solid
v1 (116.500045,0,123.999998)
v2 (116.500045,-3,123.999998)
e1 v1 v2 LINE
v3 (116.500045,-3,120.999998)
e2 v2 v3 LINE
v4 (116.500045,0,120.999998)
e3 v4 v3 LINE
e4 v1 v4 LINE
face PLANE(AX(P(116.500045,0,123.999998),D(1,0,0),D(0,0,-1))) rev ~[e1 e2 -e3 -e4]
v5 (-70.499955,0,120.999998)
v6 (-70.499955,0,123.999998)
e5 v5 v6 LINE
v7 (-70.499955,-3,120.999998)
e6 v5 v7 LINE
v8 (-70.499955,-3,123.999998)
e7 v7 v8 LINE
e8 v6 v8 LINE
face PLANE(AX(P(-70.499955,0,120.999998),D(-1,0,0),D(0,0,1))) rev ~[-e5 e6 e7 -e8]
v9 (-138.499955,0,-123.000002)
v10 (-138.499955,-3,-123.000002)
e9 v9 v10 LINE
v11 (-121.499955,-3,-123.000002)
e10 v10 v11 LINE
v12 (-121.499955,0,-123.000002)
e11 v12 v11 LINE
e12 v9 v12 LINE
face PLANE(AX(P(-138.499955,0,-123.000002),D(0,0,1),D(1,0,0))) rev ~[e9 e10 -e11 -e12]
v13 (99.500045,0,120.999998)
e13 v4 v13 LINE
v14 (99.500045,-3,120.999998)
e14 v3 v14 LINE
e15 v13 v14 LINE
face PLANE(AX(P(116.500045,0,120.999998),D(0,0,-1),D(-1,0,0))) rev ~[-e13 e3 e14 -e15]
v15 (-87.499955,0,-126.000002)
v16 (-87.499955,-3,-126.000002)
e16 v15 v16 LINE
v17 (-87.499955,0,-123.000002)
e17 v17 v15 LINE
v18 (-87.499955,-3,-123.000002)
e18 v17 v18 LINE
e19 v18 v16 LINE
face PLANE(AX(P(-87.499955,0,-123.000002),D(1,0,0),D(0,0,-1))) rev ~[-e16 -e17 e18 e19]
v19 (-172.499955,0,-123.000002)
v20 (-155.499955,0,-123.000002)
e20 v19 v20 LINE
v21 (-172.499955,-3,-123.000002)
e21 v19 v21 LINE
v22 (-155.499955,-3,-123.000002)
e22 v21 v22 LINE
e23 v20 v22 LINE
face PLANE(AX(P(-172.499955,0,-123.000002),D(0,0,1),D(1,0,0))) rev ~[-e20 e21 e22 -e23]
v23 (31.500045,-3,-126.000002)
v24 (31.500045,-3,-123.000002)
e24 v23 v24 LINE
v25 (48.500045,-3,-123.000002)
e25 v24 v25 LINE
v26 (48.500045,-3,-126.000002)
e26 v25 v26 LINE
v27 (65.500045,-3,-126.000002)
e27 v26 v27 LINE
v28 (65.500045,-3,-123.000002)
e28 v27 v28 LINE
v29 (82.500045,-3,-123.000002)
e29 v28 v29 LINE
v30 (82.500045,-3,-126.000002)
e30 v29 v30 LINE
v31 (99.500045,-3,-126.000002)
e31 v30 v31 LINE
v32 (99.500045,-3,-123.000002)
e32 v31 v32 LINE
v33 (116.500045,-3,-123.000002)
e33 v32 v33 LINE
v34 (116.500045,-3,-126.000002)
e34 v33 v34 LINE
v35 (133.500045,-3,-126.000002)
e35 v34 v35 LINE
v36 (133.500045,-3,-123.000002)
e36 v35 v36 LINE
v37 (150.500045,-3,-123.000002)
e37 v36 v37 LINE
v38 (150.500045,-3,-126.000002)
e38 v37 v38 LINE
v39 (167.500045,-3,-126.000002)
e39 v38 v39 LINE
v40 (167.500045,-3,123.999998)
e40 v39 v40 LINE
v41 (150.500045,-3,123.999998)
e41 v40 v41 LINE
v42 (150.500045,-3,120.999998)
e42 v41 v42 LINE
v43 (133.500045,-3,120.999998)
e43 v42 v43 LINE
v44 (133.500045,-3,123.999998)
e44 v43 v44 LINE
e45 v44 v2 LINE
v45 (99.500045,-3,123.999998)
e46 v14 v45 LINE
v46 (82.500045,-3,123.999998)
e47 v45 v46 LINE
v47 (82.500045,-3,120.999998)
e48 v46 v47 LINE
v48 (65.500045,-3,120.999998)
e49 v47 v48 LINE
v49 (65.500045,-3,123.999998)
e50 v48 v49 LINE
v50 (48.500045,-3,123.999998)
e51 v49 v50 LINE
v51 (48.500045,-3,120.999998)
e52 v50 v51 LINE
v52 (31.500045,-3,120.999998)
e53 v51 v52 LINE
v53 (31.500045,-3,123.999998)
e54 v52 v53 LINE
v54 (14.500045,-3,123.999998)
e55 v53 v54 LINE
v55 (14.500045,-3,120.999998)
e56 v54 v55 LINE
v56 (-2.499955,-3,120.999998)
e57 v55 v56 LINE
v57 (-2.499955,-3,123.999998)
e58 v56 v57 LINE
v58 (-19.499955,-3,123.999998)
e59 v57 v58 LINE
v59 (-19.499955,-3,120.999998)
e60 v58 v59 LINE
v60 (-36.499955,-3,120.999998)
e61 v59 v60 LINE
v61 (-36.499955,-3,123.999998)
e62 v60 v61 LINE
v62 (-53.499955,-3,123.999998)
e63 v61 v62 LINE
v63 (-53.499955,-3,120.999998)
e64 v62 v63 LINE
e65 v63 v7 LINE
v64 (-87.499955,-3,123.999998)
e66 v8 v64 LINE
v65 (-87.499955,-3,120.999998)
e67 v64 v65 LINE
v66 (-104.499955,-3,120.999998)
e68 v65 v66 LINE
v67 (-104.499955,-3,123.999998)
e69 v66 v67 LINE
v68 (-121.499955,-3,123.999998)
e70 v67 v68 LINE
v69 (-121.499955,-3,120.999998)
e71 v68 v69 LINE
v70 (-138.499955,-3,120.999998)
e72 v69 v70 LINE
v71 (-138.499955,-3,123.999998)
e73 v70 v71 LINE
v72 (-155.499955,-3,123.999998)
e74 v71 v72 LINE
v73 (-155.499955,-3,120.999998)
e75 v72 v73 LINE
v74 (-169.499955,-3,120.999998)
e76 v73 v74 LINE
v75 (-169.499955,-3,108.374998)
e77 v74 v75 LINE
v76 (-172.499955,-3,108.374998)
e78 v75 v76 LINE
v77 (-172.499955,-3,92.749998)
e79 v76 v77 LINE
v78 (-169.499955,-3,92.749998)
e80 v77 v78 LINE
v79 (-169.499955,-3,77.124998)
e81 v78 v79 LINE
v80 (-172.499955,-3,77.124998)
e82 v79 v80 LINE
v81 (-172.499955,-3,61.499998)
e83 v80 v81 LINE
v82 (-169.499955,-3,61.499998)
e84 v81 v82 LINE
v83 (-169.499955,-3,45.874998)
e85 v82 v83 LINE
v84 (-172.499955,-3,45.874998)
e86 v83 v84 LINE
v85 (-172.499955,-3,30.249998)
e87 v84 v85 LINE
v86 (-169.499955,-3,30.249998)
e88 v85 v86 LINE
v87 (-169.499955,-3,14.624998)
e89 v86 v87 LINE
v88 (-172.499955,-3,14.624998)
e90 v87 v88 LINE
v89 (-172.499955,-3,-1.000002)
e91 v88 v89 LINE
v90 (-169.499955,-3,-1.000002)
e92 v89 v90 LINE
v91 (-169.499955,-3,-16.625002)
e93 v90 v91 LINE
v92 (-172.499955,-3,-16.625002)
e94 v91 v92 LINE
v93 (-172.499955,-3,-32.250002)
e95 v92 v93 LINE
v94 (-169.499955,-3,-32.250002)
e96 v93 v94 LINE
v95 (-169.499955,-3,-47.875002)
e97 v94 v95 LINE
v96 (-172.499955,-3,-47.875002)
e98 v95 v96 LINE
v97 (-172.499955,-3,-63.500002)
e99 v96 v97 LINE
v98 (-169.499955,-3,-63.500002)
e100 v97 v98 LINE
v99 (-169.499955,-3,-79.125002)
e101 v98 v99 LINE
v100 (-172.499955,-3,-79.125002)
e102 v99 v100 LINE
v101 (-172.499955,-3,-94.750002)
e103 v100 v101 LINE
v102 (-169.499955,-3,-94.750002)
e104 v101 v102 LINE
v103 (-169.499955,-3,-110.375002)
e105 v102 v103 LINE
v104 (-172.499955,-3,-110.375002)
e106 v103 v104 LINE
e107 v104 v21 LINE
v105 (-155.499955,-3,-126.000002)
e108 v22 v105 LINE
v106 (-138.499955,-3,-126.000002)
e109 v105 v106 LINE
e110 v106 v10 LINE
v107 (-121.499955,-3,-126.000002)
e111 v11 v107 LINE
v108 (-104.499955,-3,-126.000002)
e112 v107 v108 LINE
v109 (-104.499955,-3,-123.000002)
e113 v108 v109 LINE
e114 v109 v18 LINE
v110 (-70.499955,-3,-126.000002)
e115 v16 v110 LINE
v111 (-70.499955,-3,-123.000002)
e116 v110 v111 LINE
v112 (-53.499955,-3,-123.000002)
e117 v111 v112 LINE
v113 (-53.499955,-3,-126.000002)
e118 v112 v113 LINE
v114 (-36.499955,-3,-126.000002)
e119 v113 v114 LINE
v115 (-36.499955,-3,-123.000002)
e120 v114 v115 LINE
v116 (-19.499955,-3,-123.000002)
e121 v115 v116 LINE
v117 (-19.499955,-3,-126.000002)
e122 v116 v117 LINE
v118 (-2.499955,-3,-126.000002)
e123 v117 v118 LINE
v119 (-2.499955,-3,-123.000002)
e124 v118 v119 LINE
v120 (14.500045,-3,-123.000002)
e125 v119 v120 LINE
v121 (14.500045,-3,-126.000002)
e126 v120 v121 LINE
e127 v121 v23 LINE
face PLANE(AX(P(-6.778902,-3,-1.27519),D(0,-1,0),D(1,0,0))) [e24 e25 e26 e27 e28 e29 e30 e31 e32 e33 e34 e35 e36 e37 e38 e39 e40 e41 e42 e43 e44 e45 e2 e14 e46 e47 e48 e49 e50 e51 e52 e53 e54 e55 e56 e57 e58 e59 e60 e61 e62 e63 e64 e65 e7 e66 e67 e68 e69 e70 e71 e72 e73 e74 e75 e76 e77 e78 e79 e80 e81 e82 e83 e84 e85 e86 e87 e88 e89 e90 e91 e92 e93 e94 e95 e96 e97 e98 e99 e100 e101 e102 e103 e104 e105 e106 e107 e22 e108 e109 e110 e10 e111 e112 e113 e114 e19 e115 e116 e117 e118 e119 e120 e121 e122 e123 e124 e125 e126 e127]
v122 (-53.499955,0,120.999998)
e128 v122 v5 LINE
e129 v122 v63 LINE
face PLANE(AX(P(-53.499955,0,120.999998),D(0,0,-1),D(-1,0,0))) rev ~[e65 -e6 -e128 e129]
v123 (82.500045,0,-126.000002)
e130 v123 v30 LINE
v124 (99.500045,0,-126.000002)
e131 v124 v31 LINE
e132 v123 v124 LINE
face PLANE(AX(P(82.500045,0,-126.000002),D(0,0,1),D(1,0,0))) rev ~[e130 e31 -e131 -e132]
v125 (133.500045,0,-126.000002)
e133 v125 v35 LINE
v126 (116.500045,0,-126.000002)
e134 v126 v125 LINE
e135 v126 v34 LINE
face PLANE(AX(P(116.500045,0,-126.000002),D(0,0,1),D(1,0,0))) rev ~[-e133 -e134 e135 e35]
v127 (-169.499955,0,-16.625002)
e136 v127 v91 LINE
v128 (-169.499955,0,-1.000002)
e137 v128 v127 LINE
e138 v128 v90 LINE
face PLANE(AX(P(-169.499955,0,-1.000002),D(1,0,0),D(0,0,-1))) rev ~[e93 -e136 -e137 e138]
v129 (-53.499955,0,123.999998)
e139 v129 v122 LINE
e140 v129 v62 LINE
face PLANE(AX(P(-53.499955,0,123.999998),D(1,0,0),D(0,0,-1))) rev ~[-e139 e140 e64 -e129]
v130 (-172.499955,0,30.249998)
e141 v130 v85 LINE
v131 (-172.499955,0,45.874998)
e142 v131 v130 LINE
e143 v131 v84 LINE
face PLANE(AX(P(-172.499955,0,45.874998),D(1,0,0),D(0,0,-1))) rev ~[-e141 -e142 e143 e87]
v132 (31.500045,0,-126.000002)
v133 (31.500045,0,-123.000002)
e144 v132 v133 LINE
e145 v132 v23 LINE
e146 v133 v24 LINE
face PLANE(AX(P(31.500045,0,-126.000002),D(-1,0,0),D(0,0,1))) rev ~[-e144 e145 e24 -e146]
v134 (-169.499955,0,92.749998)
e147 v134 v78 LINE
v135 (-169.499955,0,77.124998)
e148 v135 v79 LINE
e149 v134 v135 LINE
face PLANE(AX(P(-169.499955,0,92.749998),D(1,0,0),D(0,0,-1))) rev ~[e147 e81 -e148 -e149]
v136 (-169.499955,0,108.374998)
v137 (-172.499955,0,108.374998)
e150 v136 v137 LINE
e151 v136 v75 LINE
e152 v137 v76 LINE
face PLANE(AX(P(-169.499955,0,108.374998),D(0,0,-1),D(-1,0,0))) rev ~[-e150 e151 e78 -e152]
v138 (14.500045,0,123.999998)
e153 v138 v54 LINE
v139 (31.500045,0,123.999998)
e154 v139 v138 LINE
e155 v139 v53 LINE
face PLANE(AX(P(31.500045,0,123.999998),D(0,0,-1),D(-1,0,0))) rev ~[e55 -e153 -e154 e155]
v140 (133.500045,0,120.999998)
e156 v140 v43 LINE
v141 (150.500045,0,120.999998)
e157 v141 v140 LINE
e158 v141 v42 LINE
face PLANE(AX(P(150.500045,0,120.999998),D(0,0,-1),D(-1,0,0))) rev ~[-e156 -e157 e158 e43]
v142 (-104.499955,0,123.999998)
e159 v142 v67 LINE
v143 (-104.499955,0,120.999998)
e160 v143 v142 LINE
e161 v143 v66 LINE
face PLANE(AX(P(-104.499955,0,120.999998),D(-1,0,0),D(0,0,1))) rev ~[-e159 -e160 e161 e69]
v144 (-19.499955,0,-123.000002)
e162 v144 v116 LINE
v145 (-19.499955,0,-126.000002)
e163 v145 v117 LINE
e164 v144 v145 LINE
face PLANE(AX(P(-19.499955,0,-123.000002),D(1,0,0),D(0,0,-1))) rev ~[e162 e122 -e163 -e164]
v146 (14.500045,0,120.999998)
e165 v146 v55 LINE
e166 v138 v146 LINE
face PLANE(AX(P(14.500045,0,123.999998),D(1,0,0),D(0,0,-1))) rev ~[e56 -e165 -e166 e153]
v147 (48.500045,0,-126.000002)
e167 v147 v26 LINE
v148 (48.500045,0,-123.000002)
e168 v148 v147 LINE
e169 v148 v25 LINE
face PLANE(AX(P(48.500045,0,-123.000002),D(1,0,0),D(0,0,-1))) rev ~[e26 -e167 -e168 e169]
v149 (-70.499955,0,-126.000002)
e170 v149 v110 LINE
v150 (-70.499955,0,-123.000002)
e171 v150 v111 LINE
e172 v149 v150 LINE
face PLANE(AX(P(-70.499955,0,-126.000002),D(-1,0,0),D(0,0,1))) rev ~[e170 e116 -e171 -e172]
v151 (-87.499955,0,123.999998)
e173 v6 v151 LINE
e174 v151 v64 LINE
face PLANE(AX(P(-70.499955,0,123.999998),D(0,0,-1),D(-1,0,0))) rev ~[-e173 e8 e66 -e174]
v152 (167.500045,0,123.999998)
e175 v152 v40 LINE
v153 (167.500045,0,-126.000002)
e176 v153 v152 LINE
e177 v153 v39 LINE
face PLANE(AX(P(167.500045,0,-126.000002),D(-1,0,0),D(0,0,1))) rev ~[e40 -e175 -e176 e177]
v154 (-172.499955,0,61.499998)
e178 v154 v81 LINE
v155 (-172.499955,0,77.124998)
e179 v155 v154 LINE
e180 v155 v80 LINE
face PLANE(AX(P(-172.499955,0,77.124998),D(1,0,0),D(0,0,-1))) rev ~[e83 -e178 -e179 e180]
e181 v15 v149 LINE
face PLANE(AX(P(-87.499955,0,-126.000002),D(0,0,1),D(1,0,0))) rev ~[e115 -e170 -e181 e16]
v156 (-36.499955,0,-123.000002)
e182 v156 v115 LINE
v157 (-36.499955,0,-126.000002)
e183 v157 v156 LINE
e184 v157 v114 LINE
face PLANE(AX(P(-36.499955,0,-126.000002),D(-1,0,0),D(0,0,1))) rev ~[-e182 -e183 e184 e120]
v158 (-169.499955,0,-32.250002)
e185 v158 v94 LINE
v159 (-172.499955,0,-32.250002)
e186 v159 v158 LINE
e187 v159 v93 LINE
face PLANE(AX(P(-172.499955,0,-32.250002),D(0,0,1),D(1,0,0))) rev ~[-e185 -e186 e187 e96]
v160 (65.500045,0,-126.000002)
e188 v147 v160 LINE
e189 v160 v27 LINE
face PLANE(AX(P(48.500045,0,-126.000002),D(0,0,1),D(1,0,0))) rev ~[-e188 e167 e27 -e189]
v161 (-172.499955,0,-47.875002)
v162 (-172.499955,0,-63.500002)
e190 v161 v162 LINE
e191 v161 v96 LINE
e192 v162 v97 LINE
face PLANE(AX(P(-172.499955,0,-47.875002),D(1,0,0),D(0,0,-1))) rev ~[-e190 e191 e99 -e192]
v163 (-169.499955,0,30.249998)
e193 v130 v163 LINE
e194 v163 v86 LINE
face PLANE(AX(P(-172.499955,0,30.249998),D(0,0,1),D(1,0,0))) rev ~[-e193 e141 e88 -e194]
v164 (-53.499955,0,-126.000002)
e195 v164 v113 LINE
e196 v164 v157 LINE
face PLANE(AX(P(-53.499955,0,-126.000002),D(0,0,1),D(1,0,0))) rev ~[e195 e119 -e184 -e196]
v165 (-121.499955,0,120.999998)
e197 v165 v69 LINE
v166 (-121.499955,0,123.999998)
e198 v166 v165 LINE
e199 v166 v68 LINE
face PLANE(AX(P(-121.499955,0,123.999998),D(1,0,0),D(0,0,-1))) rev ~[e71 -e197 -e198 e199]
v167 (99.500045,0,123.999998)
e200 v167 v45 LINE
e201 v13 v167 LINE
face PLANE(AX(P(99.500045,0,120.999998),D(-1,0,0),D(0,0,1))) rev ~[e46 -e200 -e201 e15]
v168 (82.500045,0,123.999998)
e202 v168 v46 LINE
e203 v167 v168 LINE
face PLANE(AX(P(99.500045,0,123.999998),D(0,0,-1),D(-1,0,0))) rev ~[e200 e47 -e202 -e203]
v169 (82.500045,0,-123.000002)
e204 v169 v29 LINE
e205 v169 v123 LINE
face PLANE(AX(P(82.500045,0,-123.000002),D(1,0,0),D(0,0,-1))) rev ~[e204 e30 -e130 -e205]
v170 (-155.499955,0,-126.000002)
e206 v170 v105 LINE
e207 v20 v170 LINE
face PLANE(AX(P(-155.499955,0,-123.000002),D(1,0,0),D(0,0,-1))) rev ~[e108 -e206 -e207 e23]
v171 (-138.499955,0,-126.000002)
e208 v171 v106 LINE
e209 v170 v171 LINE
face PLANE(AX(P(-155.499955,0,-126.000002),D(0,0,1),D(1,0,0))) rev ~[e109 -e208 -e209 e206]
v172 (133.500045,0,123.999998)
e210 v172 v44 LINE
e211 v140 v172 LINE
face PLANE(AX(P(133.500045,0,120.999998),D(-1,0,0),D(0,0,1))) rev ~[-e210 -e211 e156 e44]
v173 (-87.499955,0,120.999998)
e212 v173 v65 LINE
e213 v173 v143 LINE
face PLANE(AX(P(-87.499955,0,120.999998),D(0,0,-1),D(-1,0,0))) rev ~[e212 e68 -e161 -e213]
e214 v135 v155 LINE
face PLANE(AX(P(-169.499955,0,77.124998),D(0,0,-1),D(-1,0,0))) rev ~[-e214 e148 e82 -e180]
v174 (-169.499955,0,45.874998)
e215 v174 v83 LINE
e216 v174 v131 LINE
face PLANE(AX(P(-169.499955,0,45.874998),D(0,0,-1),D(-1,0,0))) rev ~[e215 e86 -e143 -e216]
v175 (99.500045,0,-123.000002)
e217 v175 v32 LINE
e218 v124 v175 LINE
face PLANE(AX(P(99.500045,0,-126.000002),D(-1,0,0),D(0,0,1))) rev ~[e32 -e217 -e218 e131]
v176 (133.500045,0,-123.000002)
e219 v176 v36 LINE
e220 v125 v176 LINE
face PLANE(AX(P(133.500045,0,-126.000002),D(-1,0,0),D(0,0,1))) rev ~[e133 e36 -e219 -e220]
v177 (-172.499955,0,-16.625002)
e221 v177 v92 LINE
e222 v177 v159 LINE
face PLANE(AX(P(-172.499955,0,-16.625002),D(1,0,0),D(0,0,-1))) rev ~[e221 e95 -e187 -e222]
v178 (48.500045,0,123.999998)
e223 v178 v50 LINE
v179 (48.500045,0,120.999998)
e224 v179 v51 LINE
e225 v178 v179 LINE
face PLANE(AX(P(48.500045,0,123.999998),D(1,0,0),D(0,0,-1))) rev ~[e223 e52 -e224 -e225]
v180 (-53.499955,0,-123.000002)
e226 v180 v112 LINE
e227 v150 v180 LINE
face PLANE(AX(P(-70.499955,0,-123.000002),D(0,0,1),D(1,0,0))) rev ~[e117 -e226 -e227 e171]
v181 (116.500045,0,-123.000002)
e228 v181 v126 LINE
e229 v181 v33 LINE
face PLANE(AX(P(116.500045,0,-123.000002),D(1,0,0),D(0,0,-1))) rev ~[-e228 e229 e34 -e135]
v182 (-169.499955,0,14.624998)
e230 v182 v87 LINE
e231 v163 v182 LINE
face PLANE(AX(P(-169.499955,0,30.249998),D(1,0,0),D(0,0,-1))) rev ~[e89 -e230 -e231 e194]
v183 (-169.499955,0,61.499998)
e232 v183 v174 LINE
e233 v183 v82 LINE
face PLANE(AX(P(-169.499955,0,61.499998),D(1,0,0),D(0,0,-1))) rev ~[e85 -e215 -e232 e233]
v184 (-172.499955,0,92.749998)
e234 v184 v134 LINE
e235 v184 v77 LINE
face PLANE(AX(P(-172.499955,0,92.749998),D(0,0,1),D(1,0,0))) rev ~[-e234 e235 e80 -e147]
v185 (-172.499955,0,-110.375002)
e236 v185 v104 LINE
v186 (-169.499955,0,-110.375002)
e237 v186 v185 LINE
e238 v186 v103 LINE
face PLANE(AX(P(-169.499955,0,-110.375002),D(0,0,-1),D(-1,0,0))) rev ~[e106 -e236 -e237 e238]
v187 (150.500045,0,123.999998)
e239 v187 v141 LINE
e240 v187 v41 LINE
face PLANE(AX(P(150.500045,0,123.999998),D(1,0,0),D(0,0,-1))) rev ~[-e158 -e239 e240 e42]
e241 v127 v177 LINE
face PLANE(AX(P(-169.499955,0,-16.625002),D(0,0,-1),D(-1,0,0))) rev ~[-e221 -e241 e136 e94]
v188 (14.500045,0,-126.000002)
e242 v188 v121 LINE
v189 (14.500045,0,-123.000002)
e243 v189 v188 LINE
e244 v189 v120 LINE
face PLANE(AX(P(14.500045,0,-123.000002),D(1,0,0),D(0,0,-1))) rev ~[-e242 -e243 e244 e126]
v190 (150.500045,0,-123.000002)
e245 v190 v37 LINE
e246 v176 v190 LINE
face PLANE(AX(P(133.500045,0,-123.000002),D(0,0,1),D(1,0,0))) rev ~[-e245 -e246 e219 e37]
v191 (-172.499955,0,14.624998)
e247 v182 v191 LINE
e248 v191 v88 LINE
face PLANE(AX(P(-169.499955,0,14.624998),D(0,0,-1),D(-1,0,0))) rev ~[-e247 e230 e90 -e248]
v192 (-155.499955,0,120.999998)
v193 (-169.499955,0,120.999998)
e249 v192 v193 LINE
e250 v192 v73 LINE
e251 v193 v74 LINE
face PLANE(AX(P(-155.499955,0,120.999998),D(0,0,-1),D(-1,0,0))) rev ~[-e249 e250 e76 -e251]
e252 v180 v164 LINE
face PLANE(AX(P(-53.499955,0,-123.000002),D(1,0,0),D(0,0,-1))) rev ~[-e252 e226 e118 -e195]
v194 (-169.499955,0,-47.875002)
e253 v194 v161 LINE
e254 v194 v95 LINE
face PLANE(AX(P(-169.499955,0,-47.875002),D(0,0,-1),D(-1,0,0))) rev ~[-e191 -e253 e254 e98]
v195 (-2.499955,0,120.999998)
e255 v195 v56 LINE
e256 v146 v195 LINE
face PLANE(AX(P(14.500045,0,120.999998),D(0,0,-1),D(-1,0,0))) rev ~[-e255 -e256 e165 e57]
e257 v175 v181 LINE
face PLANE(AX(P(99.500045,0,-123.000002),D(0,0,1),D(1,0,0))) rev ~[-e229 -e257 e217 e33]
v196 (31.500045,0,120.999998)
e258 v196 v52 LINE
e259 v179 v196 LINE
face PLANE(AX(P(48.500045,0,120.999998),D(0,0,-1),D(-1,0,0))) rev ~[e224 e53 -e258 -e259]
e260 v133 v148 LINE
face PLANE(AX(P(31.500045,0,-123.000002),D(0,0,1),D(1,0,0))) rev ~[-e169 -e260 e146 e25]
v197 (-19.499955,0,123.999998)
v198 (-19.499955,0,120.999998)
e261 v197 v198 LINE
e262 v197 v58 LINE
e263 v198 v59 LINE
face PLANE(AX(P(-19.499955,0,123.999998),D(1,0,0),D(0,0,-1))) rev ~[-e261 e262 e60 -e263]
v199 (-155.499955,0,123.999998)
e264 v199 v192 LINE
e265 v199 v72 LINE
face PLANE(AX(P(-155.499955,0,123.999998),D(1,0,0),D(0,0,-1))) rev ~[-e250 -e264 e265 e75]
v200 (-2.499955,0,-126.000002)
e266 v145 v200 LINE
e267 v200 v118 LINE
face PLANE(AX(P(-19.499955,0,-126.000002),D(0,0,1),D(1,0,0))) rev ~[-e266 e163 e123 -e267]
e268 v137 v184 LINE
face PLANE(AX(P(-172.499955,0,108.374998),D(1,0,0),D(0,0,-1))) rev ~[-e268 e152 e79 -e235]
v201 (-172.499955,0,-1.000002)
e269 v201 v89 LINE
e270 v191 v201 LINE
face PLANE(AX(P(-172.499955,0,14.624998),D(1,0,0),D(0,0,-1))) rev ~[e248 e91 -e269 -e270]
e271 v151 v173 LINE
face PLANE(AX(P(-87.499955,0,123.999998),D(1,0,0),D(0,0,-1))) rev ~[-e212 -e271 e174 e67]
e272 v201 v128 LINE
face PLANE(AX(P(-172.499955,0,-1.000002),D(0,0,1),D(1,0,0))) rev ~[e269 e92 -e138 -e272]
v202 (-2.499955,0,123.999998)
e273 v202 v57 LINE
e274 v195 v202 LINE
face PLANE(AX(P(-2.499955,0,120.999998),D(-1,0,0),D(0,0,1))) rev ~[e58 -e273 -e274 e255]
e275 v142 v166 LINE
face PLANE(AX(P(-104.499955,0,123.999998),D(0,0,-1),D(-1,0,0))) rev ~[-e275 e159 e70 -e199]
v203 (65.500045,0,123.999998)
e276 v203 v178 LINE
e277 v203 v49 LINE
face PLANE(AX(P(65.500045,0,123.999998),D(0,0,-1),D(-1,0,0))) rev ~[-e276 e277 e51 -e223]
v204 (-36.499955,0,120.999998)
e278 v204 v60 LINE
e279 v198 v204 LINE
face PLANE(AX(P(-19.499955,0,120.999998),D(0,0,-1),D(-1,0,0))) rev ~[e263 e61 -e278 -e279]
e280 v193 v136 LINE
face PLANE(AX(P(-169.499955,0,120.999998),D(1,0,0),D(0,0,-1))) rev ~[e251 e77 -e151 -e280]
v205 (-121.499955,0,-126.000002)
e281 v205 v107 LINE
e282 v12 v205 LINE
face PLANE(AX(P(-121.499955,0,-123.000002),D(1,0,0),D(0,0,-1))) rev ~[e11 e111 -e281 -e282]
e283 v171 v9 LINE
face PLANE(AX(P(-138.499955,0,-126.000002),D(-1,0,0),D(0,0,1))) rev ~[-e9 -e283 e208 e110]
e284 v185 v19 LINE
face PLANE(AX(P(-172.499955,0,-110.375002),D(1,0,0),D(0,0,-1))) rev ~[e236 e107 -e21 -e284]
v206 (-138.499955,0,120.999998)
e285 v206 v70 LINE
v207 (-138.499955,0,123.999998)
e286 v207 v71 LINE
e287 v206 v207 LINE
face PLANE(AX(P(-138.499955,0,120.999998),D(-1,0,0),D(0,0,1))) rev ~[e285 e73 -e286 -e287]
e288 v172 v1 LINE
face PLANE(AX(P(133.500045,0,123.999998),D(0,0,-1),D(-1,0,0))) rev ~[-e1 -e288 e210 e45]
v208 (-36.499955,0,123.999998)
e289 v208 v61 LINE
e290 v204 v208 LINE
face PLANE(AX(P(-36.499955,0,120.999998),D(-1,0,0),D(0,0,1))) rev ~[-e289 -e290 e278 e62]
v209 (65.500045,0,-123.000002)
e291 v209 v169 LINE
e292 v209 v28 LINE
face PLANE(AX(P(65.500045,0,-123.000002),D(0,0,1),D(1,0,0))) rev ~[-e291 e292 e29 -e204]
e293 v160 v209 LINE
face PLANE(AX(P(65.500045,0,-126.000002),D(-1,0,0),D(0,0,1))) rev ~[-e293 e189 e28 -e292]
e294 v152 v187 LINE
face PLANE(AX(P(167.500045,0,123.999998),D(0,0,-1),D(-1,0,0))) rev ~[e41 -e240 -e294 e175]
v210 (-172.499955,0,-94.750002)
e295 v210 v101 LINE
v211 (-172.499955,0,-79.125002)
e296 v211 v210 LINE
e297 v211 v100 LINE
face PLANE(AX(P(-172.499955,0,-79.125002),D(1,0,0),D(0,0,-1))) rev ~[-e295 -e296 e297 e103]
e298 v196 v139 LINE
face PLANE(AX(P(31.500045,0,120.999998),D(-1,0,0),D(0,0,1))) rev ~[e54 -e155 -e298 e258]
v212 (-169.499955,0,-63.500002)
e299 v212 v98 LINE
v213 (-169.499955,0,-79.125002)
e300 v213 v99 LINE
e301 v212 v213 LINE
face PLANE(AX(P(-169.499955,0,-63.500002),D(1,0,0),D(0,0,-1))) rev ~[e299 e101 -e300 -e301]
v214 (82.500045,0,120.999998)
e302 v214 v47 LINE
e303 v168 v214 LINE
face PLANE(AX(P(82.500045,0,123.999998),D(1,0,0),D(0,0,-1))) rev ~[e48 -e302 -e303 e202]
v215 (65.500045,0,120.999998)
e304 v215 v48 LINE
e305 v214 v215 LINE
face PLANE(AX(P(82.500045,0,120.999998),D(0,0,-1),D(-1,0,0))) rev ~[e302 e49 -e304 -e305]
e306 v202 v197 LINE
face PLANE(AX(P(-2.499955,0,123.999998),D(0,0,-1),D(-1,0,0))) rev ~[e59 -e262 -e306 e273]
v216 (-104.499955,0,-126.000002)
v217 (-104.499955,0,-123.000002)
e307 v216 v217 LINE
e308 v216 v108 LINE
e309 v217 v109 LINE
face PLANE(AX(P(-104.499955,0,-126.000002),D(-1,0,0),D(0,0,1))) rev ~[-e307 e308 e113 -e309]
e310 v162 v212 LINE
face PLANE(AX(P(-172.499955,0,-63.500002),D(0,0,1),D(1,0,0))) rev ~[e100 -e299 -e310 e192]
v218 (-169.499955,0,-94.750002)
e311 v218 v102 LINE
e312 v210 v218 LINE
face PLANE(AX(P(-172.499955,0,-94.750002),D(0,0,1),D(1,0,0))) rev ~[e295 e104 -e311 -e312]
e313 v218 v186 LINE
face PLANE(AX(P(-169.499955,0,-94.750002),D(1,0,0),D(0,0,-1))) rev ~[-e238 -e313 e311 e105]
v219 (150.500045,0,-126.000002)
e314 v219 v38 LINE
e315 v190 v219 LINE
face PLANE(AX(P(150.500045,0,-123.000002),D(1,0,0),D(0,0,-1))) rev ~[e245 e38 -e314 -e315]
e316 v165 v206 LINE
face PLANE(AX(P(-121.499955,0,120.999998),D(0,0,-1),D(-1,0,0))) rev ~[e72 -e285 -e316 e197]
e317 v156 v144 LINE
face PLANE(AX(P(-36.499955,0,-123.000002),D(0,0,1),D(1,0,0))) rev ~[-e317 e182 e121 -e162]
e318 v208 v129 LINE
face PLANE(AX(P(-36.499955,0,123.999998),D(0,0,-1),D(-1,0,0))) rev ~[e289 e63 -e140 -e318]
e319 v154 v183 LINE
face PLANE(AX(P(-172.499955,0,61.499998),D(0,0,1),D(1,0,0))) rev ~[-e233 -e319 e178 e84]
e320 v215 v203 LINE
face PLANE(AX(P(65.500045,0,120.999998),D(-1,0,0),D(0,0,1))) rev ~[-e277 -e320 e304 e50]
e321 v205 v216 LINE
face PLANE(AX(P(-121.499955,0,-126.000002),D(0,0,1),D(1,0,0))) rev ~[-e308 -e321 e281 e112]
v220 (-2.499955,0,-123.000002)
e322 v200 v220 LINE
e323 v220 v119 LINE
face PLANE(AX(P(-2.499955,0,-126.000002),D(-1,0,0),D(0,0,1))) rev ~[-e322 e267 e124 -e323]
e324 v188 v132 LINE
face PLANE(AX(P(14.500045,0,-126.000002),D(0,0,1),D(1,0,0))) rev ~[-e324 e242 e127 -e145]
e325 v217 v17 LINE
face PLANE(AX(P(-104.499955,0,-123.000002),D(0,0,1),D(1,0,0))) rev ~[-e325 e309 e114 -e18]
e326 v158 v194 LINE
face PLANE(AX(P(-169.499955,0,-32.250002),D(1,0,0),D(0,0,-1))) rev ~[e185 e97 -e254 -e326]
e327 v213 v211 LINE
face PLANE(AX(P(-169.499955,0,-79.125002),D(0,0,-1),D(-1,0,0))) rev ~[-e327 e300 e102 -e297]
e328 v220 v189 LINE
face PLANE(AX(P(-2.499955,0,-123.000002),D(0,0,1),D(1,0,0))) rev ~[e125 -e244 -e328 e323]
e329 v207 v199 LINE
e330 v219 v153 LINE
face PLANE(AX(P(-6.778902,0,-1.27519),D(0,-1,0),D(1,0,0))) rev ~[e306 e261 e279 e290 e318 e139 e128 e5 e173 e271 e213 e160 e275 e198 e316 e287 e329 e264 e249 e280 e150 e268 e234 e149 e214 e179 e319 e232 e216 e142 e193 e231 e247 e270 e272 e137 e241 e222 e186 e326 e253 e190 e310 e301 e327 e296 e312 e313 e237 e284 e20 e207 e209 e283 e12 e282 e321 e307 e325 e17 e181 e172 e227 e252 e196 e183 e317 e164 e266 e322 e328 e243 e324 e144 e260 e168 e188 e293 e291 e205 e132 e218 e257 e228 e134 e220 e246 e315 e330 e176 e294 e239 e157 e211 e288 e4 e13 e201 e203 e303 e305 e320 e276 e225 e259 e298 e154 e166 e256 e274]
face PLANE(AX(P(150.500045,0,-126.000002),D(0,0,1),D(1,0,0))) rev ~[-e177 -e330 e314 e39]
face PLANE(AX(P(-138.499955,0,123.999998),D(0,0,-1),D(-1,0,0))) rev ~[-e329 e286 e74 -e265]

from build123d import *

# Parameters (mm, degrees)
F1_DEPTH = 3


with BuildPart() as f1:
    # F0 (on Front) → F1 (new body)
    with BuildSketch(Plane.XZ):
        Polygon((167.500045, -126.000002), (167.500045, 123.999998), (150.500045, 123.999998), (150.500045, 120.999998), (133.500045, 120.999998), (133.500045, 123.999998), (116.500045, 123.999998), (116.500045, 120.999998), (99.500045, 120.999998), (99.500045, 123.999998), (82.500045, 123.999998), (82.500045, 120.999998), (65.500045, 120.999998), (65.500045, 123.999998), (48.500045, 123.999998), (48.500045, 120.999998), (31.500045, 120.999998), (31.500045, 123.999998), (14.500045, 123.999998), (14.500045, 120.999998), (-2.499955, 120.999998), (-2.499955, 123.999998), (-19.499955, 123.999998), (-19.499955, 120.999998), (-36.499955, 120.999998), (-36.499955, 123.999998), (-53.499955, 123.999998), (-53.499955, 120.999998), (-70.499955, 120.999998), (-70.499955, 123.999998), (-87.499955, 123.999998), (-87.499955, 120.999998), (-104.499955, 120.999998), (-104.499955, 123.999998), (-121.499955, 123.999998), (-121.499955, 120.999998), (-138.499955, 120.999998), (-138.499955, 123.999998), (-155.499955, 123.999998), (-155.499955, 120.999998), (-169.499955, 120.999998), (-169.499955, 108.374998), (-172.499955, 108.374998), (-172.499955, 92.749998), (-169.499955, 92.749998), (-169.499955, 77.124998), (-172.499955, 77.124998), (-172.499955, 61.499998), (-169.499955, 61.499998), (-169.499955, 45.874998), (-172.499955, 45.874998), (-172.499955, 30.249998), (-169.499955, 30.249998), (-169.499955, 14.624998), (-172.499955, 14.624998), (-172.499955, -1.000002), (-169.499955, -1.000002), (-169.499955, -16.625002), (-172.499955, -16.625002), (-172.499955, -32.250002), (-169.499955, -32.250002), (-169.499955, -47.875002), (-172.499955, -47.875002), (-172.499955, -63.500002), (-169.499955, -63.500002), (-169.499955, -79.125002), (-172.499955, -79.125002), (-172.499955, -94.750002), (-169.499955, -94.750002), (-169.499955, -110.375002), (-172.499955, -110.375002), (-172.499955, -123.000002), (-155.499955, -123.000002), (-155.499955, -126.000002), (-138.499955, -126.000002), (-138.499955, -123.000002), (-121.499955, -123.000002), (-121.499955, -126.000002), (-104.499955, -126.000002), (-104.499955, -123.000002), (-87.499955, -123.000002), (-87.499955, -126.000002), (-70.499955, -126.000002), (-70.499955, -123.000002), (-53.499955, -123.000002), (-53.499955, -126.000002), (-36.499955, -126.000002), (-36.499955, -123.000002), (-19.499955, -123.000002), (-19.499955, -126.000002), (-2.499955, -126.000002), (-2.499955, -123.000002), (14.500045, -123.000002), (14.500045, -126.000002), (31.500045, -126.000002), (31.500045, -123.000002), (48.500045, -123.000002), (48.500045, -126.000002), (65.500045, -126.000002), (65.500045, -123.000002), (82.500045, -123.000002), (82.500045, -126.000002), (99.500045, -126.000002), (99.500045, -123.000002), (116.500045, -123.000002), (116.500045, -126.000002), (133.500045, -126.000002), (133.500045, -123.000002), (150.500045, -123.000002), (150.500045, -126.000002), align=None)
    extrude(amount=F1_DEPTH)


solid = f1.part
